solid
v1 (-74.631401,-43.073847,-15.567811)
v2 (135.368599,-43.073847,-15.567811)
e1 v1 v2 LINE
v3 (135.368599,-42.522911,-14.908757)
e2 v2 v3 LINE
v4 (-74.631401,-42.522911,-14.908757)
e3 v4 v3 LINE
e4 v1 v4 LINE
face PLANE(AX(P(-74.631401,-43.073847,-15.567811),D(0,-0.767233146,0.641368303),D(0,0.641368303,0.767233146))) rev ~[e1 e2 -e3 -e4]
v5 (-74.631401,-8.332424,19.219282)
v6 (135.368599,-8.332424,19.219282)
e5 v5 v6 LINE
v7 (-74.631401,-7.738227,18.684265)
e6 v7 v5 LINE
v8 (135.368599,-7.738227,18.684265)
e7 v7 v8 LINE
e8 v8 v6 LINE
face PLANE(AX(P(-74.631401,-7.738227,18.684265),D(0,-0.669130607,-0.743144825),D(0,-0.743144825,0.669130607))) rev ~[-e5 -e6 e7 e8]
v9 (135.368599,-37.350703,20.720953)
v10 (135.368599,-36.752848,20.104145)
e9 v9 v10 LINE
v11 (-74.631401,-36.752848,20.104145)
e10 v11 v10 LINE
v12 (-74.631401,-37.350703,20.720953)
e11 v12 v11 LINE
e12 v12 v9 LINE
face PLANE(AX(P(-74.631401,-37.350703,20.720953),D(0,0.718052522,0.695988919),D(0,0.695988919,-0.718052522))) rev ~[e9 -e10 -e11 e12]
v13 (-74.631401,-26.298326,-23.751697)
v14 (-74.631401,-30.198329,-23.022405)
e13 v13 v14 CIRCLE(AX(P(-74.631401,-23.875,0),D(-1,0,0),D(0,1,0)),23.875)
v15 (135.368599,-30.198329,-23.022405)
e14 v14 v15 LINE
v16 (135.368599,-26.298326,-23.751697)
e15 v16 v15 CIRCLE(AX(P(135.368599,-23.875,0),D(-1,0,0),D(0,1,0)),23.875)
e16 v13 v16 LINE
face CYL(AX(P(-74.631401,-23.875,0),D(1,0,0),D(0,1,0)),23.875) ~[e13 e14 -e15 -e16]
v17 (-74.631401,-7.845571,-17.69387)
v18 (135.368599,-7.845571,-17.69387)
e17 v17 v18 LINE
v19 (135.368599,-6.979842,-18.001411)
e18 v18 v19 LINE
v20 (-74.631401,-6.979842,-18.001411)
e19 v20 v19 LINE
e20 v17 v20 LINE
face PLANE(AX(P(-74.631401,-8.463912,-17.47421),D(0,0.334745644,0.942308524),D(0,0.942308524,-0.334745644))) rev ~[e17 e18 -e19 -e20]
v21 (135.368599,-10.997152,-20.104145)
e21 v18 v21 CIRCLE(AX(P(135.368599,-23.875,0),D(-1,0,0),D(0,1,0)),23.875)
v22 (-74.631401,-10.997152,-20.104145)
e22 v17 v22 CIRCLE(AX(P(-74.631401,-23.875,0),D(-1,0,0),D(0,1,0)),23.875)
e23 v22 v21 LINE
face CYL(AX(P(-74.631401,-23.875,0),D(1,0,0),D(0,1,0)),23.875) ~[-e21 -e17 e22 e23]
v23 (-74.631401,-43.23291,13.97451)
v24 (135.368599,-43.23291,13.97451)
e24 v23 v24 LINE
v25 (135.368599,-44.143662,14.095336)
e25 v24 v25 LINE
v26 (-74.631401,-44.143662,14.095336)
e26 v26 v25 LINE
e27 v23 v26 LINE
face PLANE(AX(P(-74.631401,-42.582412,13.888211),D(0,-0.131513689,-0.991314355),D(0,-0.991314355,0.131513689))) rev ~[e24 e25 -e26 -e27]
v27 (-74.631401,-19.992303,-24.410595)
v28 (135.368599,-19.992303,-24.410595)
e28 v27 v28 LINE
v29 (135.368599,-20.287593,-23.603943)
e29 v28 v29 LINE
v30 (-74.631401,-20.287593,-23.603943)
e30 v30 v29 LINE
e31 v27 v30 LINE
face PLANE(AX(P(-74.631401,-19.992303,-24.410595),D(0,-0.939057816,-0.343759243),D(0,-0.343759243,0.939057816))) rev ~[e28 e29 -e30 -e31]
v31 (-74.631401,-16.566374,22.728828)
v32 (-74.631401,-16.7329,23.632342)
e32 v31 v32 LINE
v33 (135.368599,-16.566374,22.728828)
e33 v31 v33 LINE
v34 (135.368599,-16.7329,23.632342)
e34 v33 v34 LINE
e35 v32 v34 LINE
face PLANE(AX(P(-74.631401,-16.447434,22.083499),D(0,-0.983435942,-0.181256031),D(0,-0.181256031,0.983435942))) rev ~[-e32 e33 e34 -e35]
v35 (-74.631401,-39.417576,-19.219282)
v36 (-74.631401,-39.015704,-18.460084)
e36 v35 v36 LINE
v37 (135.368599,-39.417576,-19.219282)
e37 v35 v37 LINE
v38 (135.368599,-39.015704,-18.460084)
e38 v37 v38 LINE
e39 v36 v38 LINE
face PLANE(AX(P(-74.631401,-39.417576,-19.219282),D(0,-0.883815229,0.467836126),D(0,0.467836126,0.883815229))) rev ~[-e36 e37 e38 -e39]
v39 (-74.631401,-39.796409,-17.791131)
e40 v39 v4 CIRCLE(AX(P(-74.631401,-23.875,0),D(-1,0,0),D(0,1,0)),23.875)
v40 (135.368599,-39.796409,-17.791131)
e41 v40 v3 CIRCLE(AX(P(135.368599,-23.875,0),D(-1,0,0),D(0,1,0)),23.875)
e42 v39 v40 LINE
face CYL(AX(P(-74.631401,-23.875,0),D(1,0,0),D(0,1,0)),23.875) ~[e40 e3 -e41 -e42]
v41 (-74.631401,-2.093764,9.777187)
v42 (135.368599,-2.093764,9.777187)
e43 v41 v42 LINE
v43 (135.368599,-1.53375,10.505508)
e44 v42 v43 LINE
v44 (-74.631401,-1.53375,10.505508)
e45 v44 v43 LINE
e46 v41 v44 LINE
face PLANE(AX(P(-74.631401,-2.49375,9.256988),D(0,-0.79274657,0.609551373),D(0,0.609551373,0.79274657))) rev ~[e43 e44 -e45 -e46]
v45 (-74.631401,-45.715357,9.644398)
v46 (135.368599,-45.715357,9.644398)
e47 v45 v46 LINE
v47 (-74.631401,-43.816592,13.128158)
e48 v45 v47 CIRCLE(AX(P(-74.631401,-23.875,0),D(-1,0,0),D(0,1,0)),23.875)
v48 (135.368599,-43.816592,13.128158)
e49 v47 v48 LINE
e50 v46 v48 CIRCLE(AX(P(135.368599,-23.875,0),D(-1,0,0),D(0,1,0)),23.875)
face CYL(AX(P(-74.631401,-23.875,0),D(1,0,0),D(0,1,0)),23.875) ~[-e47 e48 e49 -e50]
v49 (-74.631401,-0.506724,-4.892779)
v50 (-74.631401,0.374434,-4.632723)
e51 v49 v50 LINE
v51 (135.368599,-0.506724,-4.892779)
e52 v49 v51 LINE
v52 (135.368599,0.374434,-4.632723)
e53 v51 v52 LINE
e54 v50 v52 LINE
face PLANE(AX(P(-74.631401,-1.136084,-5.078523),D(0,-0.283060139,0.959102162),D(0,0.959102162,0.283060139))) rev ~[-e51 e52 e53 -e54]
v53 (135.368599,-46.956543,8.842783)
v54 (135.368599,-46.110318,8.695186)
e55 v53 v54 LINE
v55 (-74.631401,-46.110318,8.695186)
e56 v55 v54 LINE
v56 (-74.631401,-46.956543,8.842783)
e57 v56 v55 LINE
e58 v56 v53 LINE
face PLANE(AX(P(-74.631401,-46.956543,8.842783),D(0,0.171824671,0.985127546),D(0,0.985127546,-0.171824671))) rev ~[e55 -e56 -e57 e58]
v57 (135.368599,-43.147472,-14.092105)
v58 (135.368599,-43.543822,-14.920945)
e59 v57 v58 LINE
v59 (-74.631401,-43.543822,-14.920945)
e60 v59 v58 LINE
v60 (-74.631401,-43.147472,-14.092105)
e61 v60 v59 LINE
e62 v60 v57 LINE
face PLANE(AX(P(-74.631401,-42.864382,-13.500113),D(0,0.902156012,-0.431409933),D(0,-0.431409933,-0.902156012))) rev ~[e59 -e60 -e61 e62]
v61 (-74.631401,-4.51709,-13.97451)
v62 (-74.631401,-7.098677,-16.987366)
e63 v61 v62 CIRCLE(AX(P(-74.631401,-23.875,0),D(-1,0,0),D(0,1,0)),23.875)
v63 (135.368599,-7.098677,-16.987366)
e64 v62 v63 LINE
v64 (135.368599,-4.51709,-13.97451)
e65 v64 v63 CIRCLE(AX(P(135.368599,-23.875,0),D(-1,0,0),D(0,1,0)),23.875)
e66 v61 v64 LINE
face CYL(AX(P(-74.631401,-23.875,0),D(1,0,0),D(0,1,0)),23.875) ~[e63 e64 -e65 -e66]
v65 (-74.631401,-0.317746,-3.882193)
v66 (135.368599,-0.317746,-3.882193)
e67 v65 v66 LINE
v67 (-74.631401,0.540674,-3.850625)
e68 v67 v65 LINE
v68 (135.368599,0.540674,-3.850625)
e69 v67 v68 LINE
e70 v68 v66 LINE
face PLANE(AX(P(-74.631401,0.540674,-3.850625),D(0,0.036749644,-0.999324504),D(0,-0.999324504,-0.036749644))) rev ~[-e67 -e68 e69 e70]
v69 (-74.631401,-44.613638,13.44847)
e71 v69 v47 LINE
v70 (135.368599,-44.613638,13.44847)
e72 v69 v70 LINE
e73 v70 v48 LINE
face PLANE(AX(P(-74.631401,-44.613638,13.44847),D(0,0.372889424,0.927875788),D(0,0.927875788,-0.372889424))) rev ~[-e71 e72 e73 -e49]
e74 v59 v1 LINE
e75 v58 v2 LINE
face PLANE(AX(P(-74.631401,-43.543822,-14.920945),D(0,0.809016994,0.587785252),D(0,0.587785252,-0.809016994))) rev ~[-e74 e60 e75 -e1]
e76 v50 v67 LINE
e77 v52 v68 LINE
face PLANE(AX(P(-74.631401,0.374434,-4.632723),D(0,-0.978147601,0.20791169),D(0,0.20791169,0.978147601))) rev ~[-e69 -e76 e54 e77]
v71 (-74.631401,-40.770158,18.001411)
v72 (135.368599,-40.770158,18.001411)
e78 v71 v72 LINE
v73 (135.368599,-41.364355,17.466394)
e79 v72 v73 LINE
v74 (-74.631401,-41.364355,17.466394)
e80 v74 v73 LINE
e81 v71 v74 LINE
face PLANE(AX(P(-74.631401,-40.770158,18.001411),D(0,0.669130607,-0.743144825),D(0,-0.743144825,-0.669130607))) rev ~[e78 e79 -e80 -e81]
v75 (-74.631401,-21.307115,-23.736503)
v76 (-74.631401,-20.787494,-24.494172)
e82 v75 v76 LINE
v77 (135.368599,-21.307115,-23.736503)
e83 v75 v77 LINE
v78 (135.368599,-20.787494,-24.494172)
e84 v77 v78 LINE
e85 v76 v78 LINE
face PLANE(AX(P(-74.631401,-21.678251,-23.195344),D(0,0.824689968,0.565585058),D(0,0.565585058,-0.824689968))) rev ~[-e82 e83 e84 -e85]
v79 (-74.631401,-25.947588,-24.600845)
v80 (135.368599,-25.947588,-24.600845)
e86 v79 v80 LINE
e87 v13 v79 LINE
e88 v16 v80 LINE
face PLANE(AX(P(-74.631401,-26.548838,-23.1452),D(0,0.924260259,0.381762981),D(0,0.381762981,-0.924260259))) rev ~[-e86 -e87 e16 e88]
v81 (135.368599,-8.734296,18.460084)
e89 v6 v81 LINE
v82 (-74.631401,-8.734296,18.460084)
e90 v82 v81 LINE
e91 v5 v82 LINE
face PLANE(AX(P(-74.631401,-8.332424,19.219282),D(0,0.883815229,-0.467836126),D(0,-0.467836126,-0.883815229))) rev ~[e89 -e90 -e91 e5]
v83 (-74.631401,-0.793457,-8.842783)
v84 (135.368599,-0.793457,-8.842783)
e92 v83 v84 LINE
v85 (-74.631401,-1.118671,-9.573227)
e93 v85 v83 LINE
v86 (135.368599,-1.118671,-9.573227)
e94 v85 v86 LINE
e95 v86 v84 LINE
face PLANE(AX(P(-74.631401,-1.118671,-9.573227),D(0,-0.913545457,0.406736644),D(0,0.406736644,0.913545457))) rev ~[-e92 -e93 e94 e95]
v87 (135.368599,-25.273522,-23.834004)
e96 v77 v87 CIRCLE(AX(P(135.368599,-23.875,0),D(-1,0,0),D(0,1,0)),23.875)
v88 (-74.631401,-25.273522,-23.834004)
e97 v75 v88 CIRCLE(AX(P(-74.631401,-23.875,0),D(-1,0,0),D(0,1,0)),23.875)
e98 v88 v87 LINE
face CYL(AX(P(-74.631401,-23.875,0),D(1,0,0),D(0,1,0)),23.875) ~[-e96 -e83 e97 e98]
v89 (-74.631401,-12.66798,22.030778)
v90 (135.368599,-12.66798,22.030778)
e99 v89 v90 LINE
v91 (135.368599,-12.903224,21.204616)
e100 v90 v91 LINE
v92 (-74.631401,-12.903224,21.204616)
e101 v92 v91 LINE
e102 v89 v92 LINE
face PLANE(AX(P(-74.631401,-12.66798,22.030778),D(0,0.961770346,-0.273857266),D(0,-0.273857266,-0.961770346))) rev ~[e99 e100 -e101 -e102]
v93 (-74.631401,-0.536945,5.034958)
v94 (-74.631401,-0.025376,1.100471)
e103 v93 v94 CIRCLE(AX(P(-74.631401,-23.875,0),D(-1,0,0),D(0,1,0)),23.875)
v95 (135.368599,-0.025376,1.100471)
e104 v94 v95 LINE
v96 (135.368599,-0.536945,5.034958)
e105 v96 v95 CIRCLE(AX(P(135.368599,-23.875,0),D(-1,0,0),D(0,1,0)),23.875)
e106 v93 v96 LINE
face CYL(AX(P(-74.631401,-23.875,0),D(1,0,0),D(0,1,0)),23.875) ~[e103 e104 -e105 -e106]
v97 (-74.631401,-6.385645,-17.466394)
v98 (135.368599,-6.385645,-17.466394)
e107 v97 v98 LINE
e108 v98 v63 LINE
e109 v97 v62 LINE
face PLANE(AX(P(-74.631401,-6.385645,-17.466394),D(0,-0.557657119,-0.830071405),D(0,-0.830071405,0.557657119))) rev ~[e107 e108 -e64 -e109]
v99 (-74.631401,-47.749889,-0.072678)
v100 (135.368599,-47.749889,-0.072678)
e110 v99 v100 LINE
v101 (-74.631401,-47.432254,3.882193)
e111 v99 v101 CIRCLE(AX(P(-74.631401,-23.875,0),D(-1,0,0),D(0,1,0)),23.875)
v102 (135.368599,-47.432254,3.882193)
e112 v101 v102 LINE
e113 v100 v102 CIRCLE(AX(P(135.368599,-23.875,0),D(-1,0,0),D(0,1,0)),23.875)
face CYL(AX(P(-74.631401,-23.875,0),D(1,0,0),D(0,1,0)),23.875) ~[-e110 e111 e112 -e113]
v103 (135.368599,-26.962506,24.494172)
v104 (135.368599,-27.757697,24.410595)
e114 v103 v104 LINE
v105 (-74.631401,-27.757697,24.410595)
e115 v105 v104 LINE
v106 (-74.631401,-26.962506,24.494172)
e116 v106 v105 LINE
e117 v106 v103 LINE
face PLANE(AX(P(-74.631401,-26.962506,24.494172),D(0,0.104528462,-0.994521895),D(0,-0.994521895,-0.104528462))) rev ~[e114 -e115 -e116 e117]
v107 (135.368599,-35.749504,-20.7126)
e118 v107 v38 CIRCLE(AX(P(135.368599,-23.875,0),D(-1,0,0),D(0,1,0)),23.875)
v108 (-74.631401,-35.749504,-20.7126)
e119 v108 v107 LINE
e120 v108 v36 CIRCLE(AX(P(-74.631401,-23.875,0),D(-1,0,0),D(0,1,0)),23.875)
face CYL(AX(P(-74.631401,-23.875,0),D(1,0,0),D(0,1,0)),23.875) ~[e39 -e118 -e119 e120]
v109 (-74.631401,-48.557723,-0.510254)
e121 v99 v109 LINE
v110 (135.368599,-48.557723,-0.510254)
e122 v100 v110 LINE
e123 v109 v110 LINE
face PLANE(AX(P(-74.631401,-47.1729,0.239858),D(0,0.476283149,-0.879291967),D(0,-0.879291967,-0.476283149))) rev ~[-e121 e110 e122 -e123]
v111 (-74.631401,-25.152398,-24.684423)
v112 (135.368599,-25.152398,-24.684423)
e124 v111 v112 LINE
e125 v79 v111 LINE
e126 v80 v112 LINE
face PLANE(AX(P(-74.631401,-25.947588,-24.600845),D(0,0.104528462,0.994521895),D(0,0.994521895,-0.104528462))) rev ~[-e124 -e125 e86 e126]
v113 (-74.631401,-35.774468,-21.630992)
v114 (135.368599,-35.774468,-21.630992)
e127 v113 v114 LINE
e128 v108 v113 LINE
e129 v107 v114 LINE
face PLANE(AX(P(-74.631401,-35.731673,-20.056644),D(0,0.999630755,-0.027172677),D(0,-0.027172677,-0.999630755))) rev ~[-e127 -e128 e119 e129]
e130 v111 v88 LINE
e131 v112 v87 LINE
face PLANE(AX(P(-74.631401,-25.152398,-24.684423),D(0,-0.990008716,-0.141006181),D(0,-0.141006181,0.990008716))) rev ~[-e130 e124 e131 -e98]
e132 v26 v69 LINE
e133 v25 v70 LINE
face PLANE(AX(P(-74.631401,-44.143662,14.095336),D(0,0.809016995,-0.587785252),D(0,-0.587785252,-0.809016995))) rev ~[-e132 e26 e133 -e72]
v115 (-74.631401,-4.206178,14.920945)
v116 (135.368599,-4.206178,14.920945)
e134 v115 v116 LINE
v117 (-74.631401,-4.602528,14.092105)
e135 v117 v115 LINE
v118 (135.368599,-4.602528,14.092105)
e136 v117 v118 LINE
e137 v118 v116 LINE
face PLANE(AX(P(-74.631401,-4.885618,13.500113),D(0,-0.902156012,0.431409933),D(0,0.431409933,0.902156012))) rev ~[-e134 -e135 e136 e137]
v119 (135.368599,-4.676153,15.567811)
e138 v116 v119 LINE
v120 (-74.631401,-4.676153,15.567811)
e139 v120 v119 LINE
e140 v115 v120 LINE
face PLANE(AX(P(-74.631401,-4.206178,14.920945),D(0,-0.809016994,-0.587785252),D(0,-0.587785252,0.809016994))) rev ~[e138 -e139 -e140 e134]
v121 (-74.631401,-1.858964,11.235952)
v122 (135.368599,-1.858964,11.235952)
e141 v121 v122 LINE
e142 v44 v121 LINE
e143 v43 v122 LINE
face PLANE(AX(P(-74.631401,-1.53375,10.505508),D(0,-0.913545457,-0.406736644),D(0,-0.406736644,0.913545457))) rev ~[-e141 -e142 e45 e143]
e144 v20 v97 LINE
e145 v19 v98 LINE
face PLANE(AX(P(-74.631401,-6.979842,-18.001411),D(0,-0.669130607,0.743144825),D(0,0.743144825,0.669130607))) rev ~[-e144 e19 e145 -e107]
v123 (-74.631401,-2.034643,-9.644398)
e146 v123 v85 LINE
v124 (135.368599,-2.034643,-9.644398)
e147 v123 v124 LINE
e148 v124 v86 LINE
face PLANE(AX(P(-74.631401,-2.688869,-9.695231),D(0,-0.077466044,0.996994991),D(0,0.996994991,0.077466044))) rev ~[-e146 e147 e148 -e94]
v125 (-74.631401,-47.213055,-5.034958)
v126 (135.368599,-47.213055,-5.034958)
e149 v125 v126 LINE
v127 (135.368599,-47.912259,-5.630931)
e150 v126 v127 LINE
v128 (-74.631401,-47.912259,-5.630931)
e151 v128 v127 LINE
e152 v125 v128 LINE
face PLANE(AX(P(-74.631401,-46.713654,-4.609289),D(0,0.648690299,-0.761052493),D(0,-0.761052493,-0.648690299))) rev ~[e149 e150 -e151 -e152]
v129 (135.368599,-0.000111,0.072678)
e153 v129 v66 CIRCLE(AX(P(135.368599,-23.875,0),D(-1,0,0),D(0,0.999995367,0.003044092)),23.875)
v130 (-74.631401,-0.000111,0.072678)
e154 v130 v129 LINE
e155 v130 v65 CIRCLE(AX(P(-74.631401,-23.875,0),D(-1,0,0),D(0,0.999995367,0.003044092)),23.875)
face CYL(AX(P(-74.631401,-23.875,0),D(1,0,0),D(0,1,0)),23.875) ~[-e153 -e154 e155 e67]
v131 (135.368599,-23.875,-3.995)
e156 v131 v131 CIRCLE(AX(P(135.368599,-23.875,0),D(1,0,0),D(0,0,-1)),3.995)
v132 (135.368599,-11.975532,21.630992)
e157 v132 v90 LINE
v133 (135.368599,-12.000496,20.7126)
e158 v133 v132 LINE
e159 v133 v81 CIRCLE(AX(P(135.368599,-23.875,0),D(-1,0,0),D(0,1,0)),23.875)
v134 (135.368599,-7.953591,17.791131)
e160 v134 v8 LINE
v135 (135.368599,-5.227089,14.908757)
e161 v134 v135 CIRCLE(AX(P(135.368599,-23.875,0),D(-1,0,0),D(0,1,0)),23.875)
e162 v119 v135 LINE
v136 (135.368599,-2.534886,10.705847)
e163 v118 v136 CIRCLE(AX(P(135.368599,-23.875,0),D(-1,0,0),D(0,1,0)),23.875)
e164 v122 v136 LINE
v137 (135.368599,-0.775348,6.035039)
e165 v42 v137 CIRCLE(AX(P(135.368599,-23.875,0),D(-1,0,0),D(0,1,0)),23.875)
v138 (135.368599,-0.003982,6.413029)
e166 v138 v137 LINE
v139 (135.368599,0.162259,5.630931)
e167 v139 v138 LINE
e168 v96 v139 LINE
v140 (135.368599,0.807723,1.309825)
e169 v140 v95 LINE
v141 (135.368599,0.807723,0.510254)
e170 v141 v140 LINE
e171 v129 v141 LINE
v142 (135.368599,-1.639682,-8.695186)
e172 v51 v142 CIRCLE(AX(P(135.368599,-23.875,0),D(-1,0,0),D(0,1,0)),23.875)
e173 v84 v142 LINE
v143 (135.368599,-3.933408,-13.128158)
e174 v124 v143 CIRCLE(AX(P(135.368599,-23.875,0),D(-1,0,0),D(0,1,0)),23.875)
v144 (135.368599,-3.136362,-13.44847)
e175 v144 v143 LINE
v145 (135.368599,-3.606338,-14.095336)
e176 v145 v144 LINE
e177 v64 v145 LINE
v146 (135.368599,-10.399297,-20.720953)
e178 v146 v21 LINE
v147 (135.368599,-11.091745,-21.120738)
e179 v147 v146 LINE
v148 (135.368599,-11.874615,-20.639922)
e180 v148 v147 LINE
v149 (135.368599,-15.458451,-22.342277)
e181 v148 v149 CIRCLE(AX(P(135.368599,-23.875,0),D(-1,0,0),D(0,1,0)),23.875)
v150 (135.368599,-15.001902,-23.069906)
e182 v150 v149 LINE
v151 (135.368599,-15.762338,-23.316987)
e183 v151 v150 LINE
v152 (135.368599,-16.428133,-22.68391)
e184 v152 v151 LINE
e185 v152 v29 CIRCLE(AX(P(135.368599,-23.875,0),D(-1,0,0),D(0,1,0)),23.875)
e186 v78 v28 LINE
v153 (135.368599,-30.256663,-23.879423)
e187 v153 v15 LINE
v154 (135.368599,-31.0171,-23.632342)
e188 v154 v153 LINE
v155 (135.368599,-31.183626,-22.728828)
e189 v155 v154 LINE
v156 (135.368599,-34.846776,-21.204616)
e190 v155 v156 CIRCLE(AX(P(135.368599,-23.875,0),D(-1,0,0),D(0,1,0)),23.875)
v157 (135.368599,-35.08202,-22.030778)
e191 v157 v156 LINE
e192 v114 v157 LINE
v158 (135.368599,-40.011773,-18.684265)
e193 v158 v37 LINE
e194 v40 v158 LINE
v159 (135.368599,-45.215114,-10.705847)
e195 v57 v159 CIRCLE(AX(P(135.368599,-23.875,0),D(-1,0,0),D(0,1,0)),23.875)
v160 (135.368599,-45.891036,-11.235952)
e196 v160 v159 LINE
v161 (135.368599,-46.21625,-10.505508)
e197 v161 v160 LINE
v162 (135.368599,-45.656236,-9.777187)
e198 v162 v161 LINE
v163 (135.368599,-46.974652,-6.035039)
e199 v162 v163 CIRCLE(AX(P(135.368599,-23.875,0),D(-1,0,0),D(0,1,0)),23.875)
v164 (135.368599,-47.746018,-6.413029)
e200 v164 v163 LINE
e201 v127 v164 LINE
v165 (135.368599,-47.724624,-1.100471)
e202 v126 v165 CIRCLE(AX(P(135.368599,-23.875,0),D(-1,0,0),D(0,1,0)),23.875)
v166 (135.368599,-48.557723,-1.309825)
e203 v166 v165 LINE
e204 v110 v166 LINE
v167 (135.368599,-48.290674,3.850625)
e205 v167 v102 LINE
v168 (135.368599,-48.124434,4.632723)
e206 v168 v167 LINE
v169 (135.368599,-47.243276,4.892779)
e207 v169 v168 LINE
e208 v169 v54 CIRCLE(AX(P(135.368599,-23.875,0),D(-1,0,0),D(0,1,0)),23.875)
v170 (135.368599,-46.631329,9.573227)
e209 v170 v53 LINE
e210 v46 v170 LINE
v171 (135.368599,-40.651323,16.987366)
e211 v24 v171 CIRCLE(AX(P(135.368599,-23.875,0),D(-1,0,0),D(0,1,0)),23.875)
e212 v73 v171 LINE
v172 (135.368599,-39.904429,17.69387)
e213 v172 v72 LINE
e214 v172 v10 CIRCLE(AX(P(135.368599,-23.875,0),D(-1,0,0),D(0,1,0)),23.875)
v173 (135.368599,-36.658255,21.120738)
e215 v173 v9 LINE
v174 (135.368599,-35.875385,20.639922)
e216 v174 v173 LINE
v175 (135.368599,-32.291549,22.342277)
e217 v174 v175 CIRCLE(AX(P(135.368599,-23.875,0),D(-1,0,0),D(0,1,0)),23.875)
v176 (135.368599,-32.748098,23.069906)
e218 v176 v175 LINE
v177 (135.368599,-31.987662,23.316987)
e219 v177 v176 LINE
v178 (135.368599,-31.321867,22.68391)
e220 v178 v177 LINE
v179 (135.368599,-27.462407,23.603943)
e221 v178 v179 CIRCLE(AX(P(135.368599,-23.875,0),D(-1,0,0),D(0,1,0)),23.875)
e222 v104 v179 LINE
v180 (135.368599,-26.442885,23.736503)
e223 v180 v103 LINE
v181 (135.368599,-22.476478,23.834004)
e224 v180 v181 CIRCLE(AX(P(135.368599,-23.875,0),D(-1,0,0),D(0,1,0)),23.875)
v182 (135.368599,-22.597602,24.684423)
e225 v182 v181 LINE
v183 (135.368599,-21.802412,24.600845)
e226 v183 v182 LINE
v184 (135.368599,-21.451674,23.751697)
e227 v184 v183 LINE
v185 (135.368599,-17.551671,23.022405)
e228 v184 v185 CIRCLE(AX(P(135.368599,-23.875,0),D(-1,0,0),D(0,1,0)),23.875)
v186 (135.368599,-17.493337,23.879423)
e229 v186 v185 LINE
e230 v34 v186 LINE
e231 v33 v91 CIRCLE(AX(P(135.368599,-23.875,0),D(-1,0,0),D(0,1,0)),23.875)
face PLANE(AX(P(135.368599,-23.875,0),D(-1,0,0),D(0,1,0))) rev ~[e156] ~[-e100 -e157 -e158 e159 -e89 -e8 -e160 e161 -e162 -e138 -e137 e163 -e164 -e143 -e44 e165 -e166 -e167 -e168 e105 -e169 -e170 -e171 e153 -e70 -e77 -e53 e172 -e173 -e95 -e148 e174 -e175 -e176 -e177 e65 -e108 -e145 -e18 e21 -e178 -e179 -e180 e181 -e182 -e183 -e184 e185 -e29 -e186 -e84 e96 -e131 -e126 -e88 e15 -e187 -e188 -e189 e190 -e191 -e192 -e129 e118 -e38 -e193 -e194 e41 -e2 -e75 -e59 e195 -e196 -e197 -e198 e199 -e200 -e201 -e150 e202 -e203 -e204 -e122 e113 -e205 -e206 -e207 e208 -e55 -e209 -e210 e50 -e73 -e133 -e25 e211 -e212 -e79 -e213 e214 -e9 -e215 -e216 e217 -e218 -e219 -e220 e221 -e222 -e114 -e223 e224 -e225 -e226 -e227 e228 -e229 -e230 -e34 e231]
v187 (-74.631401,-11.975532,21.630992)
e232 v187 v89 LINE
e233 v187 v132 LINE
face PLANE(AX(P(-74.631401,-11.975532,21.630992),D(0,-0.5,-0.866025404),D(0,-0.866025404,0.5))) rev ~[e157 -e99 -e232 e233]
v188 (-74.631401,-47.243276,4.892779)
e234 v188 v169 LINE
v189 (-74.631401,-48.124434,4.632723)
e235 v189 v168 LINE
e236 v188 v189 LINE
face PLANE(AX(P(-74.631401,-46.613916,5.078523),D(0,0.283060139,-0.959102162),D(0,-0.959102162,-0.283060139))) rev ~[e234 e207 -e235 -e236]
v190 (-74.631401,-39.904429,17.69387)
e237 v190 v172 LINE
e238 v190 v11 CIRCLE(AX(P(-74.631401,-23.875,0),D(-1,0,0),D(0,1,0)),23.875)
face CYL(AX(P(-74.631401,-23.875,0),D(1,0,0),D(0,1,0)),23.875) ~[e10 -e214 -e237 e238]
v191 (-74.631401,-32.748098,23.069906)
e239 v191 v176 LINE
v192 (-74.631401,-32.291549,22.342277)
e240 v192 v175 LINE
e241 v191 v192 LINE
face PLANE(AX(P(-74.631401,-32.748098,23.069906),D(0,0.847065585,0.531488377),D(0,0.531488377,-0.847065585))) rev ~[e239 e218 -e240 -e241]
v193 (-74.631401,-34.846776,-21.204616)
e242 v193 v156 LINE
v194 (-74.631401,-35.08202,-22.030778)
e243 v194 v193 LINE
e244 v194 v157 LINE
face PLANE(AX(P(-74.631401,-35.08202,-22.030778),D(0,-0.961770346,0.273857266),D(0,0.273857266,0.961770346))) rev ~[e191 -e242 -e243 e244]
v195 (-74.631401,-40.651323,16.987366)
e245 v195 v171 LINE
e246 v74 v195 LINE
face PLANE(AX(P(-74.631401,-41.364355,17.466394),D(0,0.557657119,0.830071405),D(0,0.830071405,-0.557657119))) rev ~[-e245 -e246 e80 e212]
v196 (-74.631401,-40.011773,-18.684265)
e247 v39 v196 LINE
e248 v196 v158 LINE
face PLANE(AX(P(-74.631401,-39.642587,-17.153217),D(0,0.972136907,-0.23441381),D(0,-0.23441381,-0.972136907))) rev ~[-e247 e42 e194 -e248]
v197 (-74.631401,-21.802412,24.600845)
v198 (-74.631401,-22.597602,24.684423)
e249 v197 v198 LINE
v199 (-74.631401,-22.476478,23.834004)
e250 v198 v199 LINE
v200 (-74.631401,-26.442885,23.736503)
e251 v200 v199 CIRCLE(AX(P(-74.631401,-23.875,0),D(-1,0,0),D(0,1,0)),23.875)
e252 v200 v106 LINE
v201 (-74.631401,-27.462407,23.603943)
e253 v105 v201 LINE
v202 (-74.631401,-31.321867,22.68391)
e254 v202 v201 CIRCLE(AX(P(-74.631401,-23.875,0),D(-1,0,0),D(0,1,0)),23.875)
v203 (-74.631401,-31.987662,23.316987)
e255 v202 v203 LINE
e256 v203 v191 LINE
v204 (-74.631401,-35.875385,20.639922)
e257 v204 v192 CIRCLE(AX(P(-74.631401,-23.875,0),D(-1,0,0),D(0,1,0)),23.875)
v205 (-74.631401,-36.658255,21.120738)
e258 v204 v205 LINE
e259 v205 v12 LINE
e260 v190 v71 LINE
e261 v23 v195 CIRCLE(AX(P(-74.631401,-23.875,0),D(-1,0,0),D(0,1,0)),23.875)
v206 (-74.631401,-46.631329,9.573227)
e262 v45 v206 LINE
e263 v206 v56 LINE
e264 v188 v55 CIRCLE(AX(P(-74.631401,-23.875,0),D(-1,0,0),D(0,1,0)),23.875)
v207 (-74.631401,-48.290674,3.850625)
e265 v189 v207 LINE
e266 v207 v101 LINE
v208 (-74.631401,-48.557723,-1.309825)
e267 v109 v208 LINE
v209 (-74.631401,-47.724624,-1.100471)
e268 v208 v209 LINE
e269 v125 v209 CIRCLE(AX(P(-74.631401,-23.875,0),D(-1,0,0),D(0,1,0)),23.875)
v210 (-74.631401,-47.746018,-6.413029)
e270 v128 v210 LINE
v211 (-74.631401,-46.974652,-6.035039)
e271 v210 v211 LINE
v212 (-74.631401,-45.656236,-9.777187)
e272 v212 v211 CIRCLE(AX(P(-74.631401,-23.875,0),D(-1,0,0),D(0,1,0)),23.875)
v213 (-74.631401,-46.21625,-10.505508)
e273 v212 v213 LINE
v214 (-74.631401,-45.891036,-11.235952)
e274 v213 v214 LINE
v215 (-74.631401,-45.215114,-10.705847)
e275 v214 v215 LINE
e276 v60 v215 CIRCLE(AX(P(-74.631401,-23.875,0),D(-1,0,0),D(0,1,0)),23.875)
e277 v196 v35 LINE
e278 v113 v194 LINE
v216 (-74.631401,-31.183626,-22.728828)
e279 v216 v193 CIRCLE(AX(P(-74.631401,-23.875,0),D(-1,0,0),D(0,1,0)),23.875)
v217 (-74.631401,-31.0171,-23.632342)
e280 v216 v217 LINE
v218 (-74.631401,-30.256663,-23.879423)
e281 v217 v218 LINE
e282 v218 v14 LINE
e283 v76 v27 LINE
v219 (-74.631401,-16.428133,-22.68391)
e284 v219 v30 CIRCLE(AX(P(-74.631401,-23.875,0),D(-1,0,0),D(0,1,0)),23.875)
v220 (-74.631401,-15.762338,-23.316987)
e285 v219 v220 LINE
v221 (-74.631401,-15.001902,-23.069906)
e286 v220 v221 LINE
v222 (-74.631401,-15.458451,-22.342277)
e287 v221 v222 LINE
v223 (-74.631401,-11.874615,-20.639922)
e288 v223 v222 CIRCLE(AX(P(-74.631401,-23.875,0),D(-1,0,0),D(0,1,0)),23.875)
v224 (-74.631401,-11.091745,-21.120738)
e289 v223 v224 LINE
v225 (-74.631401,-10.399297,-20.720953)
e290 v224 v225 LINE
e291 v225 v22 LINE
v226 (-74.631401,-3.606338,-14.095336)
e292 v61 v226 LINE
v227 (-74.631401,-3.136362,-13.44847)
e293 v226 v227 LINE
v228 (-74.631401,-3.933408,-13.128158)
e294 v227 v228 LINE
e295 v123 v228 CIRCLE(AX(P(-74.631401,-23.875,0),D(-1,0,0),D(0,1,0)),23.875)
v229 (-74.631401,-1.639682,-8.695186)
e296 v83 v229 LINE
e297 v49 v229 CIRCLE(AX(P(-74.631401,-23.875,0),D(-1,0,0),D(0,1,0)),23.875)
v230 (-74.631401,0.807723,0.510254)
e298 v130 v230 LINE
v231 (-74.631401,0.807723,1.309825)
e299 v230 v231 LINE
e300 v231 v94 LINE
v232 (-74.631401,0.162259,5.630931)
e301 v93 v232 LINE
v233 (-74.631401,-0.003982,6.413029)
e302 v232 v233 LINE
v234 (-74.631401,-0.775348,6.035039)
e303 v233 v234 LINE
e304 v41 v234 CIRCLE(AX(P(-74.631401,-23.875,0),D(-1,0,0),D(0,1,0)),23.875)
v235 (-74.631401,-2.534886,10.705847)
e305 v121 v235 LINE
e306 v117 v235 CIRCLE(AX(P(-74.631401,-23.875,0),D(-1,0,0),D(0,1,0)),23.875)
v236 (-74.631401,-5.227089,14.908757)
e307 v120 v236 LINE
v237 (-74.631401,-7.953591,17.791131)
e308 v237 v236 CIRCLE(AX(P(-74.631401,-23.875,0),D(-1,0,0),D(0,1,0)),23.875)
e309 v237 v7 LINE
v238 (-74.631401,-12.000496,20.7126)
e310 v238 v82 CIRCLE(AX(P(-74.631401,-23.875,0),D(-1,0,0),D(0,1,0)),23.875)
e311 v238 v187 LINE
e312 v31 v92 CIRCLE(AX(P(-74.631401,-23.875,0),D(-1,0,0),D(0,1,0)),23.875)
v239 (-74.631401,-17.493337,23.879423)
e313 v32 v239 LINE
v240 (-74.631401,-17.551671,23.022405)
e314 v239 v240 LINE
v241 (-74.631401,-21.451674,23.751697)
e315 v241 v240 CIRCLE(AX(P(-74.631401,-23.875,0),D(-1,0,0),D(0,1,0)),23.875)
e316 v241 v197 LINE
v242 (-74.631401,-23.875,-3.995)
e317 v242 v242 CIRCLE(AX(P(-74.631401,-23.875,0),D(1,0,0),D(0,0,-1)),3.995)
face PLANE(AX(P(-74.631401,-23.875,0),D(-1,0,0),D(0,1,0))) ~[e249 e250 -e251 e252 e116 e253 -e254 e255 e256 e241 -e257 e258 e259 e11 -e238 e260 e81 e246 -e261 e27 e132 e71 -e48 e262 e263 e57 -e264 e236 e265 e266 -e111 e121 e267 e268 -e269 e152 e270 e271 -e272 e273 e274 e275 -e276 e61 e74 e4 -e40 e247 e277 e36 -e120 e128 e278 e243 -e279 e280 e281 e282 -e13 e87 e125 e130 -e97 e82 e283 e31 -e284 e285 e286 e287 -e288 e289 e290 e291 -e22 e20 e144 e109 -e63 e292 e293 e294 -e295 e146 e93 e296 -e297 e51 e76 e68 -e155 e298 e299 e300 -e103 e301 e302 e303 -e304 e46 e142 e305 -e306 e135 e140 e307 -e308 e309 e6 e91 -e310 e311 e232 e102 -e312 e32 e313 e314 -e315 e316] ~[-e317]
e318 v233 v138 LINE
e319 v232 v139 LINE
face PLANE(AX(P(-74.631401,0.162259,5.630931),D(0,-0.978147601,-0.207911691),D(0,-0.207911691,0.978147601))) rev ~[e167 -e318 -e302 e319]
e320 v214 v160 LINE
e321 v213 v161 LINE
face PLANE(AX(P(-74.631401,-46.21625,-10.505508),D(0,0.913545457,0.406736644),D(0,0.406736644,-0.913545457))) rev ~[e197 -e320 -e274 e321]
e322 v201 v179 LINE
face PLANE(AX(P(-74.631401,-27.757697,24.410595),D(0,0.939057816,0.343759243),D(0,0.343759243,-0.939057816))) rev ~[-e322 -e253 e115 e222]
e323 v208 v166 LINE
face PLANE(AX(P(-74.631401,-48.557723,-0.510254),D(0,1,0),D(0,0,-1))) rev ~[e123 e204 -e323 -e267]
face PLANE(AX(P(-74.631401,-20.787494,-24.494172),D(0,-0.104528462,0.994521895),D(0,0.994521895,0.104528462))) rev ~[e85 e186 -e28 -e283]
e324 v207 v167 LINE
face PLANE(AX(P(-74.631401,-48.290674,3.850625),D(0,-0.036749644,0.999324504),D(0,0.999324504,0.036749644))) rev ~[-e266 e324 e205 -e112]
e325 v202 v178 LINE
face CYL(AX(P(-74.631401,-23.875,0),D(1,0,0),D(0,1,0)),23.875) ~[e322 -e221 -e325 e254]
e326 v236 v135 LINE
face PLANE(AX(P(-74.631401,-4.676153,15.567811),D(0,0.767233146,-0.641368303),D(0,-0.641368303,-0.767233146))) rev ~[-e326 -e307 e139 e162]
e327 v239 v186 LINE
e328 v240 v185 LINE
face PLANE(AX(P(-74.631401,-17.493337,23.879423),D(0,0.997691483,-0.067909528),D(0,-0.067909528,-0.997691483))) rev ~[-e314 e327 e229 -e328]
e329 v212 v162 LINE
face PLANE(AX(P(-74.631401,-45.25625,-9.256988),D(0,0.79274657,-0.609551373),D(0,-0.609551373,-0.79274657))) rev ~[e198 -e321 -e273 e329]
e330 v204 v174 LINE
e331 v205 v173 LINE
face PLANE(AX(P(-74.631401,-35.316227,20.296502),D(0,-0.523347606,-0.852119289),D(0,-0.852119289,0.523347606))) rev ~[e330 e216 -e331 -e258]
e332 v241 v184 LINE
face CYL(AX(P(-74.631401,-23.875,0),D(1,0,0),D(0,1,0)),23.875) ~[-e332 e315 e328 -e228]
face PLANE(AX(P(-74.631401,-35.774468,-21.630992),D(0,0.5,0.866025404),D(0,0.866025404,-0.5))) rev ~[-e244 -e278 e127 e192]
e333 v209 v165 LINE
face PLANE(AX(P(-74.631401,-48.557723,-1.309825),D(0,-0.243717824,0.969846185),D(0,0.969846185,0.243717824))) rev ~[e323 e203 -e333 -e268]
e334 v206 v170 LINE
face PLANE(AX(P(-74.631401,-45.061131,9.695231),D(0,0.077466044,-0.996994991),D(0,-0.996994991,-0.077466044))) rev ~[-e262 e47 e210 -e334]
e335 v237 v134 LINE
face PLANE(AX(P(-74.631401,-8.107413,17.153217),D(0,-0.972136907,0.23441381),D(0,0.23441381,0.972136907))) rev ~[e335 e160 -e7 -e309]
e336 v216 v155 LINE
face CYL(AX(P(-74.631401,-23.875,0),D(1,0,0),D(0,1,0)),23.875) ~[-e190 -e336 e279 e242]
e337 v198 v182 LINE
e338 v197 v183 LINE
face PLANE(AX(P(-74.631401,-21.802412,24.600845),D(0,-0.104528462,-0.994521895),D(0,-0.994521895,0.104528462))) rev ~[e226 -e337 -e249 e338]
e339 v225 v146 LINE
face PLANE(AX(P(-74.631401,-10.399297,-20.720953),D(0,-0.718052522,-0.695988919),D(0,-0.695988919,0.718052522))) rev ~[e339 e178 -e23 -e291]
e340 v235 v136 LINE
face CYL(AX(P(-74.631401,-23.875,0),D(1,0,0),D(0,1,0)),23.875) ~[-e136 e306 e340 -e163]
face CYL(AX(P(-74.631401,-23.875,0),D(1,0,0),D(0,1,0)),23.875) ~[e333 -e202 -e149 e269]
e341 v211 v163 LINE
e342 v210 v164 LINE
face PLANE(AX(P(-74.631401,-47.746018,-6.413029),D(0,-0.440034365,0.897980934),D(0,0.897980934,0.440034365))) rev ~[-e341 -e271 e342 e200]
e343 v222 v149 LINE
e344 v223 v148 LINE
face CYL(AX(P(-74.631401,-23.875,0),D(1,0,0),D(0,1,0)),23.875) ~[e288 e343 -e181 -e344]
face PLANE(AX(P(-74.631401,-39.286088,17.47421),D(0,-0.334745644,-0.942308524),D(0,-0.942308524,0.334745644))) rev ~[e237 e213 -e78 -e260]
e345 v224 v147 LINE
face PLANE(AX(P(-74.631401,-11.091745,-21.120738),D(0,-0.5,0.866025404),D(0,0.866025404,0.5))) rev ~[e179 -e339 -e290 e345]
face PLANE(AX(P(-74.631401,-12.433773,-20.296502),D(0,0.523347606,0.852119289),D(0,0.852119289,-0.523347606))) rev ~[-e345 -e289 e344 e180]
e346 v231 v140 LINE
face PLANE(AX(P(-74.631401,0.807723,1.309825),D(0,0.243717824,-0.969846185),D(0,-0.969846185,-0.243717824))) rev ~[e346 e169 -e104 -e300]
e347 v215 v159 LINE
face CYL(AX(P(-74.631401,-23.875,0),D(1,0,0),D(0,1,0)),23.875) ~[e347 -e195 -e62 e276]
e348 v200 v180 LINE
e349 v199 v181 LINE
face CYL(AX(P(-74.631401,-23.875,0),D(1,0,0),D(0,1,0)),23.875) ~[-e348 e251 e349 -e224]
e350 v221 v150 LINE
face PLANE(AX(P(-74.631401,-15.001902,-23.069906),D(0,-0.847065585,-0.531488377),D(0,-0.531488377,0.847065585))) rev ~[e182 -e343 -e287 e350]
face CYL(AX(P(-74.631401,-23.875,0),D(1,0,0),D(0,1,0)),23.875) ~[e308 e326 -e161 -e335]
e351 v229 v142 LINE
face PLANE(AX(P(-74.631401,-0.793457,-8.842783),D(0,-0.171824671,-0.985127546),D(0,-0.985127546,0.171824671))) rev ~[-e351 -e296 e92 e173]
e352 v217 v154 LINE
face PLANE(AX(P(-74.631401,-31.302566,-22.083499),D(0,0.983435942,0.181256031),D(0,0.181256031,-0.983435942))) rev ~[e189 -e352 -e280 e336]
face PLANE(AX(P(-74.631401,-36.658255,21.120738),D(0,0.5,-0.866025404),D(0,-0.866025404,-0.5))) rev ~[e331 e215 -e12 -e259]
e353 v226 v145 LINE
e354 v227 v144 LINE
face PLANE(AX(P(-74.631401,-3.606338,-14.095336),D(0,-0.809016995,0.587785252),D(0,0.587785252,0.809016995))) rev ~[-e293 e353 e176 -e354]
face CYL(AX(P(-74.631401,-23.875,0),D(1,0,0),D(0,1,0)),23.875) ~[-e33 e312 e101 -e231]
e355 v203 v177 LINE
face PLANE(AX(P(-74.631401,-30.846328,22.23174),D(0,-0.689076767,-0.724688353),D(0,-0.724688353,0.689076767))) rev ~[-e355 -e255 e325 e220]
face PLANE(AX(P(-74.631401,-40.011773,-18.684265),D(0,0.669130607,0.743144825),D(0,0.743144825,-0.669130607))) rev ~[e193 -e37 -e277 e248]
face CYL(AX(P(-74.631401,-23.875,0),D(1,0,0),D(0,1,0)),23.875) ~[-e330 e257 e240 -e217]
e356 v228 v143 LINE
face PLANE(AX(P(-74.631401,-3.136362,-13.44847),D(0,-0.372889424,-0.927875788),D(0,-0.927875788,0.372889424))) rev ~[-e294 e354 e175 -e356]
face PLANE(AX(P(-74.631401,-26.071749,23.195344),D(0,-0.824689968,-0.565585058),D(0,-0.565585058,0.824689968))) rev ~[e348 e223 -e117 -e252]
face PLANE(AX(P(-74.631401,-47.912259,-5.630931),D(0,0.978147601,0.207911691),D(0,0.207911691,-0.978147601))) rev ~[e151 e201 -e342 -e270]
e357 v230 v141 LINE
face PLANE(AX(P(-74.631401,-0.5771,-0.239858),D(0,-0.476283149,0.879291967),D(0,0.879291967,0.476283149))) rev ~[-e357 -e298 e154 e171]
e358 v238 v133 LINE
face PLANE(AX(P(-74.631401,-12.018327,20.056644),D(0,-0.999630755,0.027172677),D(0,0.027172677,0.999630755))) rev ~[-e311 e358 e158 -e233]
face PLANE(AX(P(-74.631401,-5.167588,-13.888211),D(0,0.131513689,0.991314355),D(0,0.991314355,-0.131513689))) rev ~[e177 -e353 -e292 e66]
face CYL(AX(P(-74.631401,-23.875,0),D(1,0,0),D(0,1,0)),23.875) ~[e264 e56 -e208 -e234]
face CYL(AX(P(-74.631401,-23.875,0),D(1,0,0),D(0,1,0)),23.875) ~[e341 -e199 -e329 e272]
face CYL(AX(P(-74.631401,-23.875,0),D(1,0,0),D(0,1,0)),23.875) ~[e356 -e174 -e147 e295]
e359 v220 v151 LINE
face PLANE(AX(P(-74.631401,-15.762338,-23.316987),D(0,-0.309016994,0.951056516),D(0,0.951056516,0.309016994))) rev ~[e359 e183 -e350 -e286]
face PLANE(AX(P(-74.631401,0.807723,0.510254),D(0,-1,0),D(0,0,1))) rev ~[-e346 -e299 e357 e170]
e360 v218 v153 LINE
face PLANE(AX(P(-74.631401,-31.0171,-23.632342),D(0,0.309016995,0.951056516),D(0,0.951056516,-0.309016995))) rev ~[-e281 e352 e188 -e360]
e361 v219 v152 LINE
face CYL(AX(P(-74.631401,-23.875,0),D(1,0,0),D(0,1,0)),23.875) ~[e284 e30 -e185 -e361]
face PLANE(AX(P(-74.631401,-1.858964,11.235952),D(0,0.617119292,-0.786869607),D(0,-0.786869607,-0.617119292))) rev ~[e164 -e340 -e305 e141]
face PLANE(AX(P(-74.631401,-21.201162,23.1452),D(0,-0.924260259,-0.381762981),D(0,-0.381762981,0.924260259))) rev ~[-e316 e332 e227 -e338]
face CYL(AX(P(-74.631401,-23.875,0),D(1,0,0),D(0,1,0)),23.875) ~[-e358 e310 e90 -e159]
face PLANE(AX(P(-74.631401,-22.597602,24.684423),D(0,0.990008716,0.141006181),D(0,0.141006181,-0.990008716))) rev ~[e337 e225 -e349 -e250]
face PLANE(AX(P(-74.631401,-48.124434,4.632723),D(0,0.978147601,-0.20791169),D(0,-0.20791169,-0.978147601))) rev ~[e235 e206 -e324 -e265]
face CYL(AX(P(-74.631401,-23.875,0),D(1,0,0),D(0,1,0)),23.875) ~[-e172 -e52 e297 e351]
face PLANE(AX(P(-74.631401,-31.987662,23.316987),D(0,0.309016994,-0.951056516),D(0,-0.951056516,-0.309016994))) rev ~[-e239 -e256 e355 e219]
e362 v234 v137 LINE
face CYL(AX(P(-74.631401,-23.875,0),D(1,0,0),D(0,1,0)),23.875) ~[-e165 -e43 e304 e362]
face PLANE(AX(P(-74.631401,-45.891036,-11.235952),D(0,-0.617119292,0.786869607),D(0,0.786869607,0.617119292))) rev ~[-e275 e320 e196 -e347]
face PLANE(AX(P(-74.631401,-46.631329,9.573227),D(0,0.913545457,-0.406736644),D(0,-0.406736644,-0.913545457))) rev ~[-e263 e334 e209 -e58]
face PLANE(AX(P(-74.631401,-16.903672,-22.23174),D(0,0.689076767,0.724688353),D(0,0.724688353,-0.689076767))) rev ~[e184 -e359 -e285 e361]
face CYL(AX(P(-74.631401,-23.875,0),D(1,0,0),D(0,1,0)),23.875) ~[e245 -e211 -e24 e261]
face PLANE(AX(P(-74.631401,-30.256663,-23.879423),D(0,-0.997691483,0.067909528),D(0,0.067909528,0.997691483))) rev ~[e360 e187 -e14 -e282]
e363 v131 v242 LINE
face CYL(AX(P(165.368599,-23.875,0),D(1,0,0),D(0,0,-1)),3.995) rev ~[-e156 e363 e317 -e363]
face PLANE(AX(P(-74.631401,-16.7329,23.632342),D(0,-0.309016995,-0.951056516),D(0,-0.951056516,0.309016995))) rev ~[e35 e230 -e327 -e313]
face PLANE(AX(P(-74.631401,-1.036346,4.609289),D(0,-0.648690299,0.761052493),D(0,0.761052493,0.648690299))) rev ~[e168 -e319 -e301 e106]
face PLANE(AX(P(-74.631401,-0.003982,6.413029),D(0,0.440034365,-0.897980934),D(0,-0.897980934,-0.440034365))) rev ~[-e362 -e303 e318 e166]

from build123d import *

# Parameters (mm, degrees)
Y_KSEKLIK_EKSTR_ZYON1_DEPTH = 210
IZIM5_R                     = 1.5
KES_EKSTR_ZYON1_DEPTH       = 35
KES_EKSTR_ZYON1_DEPTH_BACK  = 10
IZIM6_R                     = 1.5
KES_EKSTR_ZYON2_DEPTH       = 67
KES_EKSTR_ZYON2_DEPTH_BACK  = 10
IZIM7_R                     = 3.995
KES_EKSTR_ZYON3_DEPTH       = 310


with BuildPart() as part:
    # Çizim1 → Döndür2 (revolve)
    with BuildSketch(Plane.XY):
        Polygon((-74.631401138, 0), (135.368598862, 0), (135.368598862, -20), (165.368598862, -20), (165.368598862, -23.875), (-104.631401138, -23.875), (-104.631401138, -20), (-74.631401138, -20), align=None)
    revolve(axis=Axis((165.368598862, -23.875, 0), (-1, 0, 0)))

    # Çizim2 → Yükseklik-Ekstrüzyon1 (add)
    with BuildSketch(Plane.ZY.offset(74.631401138)):
        Polygon((-0.239858288, -0.577100131), (0.510254288, 0.807723086), (1.309824836, 0.807723086), (0.910039562, -0.783175015), align=None)
        Polygon((5.691213391, -1.476994658), (4.609288945, -1.036345799), (5.630930698, 0.162258534), (6.413028712, -0.003981531), align=None)
        Polygon((10.223653885, -3.149714613), (9.256988134, -2.493750248), (10.505508417, -1.533749559), (11.235952459, -1.8589642), align=None)
        Polygon((14.309271646, -5.72822899), (13.500112521, -4.885617909), (14.920945007, -4.206177502), (15.567811168, -4.676153278), align=None)
        Polygon((17.769505572, -9.099844337), (17.15321721, -8.107412689), (18.684264701, -7.738227369), (19.219281827, -8.332424084), align=None)
        Polygon((20.453126838, -13.117204887), (20.056643997, -12.018326695), (21.630992371, -11.975531633), (22.030777645, -12.66798004), align=None)
        Polygon((22.242848315, -17.604732704), (22.083499199, -16.44743422), (23.632341877, -16.732899765), (23.879422765, -17.493336545), align=None)
        Polygon((23.060450589, -22.36630129), (23.145199517, -21.20116201), (24.600844643, -21.802411948), (24.684422523, -22.597602365), align=None)
        Polygon((22.870200515, -27.19380725), (23.195343554, -26.071749352), (24.494172449, -26.962506175), (24.410594569, -27.757696592), align=None)
        Polygon((21.680412935, -31.876265407), (22.231739773, -30.846328205), (23.316987384, -31.987661567), (23.069906497, -32.748098346), align=None)
        Polygon((19.543087276, -36.209029872), (20.296502285, -35.316226564), (21.120738083, -36.658254719), (20.720952809, -37.350703125), align=None)
        Polygon((16.551634925, -40.002738046), (17.474210253, -39.286088421), (18.001411179, -40.770158299), (17.466394053, -41.364355014), align=None)
        Polygon((12.836796703, -43.091586678), (13.888211383, -42.582411763), (14.095336226, -44.143662389), (13.448470064, -44.613638165), align=None)
        Polygon((8.560928869, -45.34057826), (9.695231033, -45.061131443), (9.573227443, -46.631328673), (8.842783401, -46.956543314), align=None)
        Polygon((3.910907362, -46.65142107), (5.078522563, -46.613915516), (4.632722683, -48.124434198), (3.85062467, -48.290674262), align=None)
        Polygon((-0.910039562, -46.966824985), (0.239858288, -47.172899869), (-0.510254288, -48.557723086), (-1.309824836, -48.557723086), align=None)
        Polygon((-5.691213391, -46.273005342), (-4.609288945, -46.713654201), (-5.630930698, -47.912258534), (-6.413028712, -47.746018469), align=None)
        Polygon((-10.223653885, -44.600285387), (-9.256988134, -45.256249752), (-10.505508417, -46.216250441), (-11.235952459, -45.8910358), align=None)
        Polygon((-14.309271646, -42.02177101), (-13.500112521, -42.864382091), (-14.920945007, -43.543822498), (-15.567811168, -43.073846722), align=None)
        Polygon((-17.769505572, -38.650155663), (-17.15321721, -39.642587311), (-18.684264701, -40.011772631), (-19.219281827, -39.417575916), align=None)
        Polygon((-20.453126838, -34.632795113), (-20.056643997, -35.731673305), (-21.630992371, -35.774468367), (-22.030777645, -35.08201996), align=None)
        Polygon((-22.242848315, -30.145267296), (-22.083499199, -31.30256578), (-23.632341877, -31.017100235), (-23.879422765, -30.256663455), align=None)
        Polygon((-23.060450589, -25.38369871), (-23.145199517, -26.54883799), (-24.600844643, -25.947588052), (-24.684422523, -25.152397635), align=None)
        Polygon((-22.870200515, -20.55619275), (-23.195343554, -21.678250648), (-24.494172449, -20.787493825), (-24.410594569, -19.992303408), align=None)
        Polygon((-21.680412935, -15.873734593), (-22.231739773, -16.903671795), (-23.316987384, -15.762338433), (-23.069906497, -15.001901654), align=None)
        Polygon((-19.543087276, -11.540970128), (-20.296502285, -12.433773436), (-21.120738083, -11.091745281), (-20.720952809, -10.399296875), align=None)
        Polygon((-16.551634925, -7.747261954), (-17.474210253, -8.463911579), (-18.001411179, -6.979841701), (-17.466394053, -6.385644986), align=None)
        Polygon((-12.836796703, -4.658413322), (-13.888211383, -5.167588237), (-14.095336226, -3.606337611), (-13.448470064, -3.136361835), align=None)
        Polygon((-8.560928869, -2.40942174), (-9.695231033, -2.688868557), (-9.573227443, -1.118671327), (-8.842783401, -0.793456686), align=None)
        Polygon((-3.910907362, -1.09857893), (-5.078522563, -1.136084484), (-4.632722683, 0.374434198), (-3.85062467, 0.540674262), align=None)
    extrude(amount=-Y_KSEKLIK_EKSTR_ZYON1_DEPTH)

    # Çizim5 → Kes-Ekstrüzyon1 (cut, two sides)
    with BuildSketch(Plane.XY) as kes_ekstr_zyon1_sk:
        with Locations((-101.631401138, -23.958656311)):
            Circle(IZIM5_R)
    extrude(amount=KES_EKSTR_ZYON1_DEPTH, mode=Mode.SUBTRACT)
    extrude(kes_ekstr_zyon1_sk.sketch, amount=-KES_EKSTR_ZYON1_DEPTH_BACK, mode=Mode.SUBTRACT)

    # Çizim6 → Kes-Ekstrüzyon2 (cut, two sides)
    with BuildSketch(Plane.XY) as kes_ekstr_zyon2_sk:
        with Locations((162.368598862, -23.875)):
            Circle(IZIM6_R)
    extrude(amount=KES_EKSTR_ZYON2_DEPTH, mode=Mode.SUBTRACT)
    extrude(kes_ekstr_zyon2_sk.sketch, amount=-KES_EKSTR_ZYON2_DEPTH_BACK, mode=Mode.SUBTRACT)

    # Çizim7 → Kes-Ekstrüzyon3 (cut)
    with BuildSketch(Plane(origin=(165.368598862, 0, 0), x_dir=(0, 0, -1), z_dir=(1, 0, 0))):
        with Locations((0, -23.875)):
            Circle(IZIM7_R)
    extrude(amount=-KES_EKSTR_ZYON3_DEPTH, mode=Mode.SUBTRACT)


solid = part.part
